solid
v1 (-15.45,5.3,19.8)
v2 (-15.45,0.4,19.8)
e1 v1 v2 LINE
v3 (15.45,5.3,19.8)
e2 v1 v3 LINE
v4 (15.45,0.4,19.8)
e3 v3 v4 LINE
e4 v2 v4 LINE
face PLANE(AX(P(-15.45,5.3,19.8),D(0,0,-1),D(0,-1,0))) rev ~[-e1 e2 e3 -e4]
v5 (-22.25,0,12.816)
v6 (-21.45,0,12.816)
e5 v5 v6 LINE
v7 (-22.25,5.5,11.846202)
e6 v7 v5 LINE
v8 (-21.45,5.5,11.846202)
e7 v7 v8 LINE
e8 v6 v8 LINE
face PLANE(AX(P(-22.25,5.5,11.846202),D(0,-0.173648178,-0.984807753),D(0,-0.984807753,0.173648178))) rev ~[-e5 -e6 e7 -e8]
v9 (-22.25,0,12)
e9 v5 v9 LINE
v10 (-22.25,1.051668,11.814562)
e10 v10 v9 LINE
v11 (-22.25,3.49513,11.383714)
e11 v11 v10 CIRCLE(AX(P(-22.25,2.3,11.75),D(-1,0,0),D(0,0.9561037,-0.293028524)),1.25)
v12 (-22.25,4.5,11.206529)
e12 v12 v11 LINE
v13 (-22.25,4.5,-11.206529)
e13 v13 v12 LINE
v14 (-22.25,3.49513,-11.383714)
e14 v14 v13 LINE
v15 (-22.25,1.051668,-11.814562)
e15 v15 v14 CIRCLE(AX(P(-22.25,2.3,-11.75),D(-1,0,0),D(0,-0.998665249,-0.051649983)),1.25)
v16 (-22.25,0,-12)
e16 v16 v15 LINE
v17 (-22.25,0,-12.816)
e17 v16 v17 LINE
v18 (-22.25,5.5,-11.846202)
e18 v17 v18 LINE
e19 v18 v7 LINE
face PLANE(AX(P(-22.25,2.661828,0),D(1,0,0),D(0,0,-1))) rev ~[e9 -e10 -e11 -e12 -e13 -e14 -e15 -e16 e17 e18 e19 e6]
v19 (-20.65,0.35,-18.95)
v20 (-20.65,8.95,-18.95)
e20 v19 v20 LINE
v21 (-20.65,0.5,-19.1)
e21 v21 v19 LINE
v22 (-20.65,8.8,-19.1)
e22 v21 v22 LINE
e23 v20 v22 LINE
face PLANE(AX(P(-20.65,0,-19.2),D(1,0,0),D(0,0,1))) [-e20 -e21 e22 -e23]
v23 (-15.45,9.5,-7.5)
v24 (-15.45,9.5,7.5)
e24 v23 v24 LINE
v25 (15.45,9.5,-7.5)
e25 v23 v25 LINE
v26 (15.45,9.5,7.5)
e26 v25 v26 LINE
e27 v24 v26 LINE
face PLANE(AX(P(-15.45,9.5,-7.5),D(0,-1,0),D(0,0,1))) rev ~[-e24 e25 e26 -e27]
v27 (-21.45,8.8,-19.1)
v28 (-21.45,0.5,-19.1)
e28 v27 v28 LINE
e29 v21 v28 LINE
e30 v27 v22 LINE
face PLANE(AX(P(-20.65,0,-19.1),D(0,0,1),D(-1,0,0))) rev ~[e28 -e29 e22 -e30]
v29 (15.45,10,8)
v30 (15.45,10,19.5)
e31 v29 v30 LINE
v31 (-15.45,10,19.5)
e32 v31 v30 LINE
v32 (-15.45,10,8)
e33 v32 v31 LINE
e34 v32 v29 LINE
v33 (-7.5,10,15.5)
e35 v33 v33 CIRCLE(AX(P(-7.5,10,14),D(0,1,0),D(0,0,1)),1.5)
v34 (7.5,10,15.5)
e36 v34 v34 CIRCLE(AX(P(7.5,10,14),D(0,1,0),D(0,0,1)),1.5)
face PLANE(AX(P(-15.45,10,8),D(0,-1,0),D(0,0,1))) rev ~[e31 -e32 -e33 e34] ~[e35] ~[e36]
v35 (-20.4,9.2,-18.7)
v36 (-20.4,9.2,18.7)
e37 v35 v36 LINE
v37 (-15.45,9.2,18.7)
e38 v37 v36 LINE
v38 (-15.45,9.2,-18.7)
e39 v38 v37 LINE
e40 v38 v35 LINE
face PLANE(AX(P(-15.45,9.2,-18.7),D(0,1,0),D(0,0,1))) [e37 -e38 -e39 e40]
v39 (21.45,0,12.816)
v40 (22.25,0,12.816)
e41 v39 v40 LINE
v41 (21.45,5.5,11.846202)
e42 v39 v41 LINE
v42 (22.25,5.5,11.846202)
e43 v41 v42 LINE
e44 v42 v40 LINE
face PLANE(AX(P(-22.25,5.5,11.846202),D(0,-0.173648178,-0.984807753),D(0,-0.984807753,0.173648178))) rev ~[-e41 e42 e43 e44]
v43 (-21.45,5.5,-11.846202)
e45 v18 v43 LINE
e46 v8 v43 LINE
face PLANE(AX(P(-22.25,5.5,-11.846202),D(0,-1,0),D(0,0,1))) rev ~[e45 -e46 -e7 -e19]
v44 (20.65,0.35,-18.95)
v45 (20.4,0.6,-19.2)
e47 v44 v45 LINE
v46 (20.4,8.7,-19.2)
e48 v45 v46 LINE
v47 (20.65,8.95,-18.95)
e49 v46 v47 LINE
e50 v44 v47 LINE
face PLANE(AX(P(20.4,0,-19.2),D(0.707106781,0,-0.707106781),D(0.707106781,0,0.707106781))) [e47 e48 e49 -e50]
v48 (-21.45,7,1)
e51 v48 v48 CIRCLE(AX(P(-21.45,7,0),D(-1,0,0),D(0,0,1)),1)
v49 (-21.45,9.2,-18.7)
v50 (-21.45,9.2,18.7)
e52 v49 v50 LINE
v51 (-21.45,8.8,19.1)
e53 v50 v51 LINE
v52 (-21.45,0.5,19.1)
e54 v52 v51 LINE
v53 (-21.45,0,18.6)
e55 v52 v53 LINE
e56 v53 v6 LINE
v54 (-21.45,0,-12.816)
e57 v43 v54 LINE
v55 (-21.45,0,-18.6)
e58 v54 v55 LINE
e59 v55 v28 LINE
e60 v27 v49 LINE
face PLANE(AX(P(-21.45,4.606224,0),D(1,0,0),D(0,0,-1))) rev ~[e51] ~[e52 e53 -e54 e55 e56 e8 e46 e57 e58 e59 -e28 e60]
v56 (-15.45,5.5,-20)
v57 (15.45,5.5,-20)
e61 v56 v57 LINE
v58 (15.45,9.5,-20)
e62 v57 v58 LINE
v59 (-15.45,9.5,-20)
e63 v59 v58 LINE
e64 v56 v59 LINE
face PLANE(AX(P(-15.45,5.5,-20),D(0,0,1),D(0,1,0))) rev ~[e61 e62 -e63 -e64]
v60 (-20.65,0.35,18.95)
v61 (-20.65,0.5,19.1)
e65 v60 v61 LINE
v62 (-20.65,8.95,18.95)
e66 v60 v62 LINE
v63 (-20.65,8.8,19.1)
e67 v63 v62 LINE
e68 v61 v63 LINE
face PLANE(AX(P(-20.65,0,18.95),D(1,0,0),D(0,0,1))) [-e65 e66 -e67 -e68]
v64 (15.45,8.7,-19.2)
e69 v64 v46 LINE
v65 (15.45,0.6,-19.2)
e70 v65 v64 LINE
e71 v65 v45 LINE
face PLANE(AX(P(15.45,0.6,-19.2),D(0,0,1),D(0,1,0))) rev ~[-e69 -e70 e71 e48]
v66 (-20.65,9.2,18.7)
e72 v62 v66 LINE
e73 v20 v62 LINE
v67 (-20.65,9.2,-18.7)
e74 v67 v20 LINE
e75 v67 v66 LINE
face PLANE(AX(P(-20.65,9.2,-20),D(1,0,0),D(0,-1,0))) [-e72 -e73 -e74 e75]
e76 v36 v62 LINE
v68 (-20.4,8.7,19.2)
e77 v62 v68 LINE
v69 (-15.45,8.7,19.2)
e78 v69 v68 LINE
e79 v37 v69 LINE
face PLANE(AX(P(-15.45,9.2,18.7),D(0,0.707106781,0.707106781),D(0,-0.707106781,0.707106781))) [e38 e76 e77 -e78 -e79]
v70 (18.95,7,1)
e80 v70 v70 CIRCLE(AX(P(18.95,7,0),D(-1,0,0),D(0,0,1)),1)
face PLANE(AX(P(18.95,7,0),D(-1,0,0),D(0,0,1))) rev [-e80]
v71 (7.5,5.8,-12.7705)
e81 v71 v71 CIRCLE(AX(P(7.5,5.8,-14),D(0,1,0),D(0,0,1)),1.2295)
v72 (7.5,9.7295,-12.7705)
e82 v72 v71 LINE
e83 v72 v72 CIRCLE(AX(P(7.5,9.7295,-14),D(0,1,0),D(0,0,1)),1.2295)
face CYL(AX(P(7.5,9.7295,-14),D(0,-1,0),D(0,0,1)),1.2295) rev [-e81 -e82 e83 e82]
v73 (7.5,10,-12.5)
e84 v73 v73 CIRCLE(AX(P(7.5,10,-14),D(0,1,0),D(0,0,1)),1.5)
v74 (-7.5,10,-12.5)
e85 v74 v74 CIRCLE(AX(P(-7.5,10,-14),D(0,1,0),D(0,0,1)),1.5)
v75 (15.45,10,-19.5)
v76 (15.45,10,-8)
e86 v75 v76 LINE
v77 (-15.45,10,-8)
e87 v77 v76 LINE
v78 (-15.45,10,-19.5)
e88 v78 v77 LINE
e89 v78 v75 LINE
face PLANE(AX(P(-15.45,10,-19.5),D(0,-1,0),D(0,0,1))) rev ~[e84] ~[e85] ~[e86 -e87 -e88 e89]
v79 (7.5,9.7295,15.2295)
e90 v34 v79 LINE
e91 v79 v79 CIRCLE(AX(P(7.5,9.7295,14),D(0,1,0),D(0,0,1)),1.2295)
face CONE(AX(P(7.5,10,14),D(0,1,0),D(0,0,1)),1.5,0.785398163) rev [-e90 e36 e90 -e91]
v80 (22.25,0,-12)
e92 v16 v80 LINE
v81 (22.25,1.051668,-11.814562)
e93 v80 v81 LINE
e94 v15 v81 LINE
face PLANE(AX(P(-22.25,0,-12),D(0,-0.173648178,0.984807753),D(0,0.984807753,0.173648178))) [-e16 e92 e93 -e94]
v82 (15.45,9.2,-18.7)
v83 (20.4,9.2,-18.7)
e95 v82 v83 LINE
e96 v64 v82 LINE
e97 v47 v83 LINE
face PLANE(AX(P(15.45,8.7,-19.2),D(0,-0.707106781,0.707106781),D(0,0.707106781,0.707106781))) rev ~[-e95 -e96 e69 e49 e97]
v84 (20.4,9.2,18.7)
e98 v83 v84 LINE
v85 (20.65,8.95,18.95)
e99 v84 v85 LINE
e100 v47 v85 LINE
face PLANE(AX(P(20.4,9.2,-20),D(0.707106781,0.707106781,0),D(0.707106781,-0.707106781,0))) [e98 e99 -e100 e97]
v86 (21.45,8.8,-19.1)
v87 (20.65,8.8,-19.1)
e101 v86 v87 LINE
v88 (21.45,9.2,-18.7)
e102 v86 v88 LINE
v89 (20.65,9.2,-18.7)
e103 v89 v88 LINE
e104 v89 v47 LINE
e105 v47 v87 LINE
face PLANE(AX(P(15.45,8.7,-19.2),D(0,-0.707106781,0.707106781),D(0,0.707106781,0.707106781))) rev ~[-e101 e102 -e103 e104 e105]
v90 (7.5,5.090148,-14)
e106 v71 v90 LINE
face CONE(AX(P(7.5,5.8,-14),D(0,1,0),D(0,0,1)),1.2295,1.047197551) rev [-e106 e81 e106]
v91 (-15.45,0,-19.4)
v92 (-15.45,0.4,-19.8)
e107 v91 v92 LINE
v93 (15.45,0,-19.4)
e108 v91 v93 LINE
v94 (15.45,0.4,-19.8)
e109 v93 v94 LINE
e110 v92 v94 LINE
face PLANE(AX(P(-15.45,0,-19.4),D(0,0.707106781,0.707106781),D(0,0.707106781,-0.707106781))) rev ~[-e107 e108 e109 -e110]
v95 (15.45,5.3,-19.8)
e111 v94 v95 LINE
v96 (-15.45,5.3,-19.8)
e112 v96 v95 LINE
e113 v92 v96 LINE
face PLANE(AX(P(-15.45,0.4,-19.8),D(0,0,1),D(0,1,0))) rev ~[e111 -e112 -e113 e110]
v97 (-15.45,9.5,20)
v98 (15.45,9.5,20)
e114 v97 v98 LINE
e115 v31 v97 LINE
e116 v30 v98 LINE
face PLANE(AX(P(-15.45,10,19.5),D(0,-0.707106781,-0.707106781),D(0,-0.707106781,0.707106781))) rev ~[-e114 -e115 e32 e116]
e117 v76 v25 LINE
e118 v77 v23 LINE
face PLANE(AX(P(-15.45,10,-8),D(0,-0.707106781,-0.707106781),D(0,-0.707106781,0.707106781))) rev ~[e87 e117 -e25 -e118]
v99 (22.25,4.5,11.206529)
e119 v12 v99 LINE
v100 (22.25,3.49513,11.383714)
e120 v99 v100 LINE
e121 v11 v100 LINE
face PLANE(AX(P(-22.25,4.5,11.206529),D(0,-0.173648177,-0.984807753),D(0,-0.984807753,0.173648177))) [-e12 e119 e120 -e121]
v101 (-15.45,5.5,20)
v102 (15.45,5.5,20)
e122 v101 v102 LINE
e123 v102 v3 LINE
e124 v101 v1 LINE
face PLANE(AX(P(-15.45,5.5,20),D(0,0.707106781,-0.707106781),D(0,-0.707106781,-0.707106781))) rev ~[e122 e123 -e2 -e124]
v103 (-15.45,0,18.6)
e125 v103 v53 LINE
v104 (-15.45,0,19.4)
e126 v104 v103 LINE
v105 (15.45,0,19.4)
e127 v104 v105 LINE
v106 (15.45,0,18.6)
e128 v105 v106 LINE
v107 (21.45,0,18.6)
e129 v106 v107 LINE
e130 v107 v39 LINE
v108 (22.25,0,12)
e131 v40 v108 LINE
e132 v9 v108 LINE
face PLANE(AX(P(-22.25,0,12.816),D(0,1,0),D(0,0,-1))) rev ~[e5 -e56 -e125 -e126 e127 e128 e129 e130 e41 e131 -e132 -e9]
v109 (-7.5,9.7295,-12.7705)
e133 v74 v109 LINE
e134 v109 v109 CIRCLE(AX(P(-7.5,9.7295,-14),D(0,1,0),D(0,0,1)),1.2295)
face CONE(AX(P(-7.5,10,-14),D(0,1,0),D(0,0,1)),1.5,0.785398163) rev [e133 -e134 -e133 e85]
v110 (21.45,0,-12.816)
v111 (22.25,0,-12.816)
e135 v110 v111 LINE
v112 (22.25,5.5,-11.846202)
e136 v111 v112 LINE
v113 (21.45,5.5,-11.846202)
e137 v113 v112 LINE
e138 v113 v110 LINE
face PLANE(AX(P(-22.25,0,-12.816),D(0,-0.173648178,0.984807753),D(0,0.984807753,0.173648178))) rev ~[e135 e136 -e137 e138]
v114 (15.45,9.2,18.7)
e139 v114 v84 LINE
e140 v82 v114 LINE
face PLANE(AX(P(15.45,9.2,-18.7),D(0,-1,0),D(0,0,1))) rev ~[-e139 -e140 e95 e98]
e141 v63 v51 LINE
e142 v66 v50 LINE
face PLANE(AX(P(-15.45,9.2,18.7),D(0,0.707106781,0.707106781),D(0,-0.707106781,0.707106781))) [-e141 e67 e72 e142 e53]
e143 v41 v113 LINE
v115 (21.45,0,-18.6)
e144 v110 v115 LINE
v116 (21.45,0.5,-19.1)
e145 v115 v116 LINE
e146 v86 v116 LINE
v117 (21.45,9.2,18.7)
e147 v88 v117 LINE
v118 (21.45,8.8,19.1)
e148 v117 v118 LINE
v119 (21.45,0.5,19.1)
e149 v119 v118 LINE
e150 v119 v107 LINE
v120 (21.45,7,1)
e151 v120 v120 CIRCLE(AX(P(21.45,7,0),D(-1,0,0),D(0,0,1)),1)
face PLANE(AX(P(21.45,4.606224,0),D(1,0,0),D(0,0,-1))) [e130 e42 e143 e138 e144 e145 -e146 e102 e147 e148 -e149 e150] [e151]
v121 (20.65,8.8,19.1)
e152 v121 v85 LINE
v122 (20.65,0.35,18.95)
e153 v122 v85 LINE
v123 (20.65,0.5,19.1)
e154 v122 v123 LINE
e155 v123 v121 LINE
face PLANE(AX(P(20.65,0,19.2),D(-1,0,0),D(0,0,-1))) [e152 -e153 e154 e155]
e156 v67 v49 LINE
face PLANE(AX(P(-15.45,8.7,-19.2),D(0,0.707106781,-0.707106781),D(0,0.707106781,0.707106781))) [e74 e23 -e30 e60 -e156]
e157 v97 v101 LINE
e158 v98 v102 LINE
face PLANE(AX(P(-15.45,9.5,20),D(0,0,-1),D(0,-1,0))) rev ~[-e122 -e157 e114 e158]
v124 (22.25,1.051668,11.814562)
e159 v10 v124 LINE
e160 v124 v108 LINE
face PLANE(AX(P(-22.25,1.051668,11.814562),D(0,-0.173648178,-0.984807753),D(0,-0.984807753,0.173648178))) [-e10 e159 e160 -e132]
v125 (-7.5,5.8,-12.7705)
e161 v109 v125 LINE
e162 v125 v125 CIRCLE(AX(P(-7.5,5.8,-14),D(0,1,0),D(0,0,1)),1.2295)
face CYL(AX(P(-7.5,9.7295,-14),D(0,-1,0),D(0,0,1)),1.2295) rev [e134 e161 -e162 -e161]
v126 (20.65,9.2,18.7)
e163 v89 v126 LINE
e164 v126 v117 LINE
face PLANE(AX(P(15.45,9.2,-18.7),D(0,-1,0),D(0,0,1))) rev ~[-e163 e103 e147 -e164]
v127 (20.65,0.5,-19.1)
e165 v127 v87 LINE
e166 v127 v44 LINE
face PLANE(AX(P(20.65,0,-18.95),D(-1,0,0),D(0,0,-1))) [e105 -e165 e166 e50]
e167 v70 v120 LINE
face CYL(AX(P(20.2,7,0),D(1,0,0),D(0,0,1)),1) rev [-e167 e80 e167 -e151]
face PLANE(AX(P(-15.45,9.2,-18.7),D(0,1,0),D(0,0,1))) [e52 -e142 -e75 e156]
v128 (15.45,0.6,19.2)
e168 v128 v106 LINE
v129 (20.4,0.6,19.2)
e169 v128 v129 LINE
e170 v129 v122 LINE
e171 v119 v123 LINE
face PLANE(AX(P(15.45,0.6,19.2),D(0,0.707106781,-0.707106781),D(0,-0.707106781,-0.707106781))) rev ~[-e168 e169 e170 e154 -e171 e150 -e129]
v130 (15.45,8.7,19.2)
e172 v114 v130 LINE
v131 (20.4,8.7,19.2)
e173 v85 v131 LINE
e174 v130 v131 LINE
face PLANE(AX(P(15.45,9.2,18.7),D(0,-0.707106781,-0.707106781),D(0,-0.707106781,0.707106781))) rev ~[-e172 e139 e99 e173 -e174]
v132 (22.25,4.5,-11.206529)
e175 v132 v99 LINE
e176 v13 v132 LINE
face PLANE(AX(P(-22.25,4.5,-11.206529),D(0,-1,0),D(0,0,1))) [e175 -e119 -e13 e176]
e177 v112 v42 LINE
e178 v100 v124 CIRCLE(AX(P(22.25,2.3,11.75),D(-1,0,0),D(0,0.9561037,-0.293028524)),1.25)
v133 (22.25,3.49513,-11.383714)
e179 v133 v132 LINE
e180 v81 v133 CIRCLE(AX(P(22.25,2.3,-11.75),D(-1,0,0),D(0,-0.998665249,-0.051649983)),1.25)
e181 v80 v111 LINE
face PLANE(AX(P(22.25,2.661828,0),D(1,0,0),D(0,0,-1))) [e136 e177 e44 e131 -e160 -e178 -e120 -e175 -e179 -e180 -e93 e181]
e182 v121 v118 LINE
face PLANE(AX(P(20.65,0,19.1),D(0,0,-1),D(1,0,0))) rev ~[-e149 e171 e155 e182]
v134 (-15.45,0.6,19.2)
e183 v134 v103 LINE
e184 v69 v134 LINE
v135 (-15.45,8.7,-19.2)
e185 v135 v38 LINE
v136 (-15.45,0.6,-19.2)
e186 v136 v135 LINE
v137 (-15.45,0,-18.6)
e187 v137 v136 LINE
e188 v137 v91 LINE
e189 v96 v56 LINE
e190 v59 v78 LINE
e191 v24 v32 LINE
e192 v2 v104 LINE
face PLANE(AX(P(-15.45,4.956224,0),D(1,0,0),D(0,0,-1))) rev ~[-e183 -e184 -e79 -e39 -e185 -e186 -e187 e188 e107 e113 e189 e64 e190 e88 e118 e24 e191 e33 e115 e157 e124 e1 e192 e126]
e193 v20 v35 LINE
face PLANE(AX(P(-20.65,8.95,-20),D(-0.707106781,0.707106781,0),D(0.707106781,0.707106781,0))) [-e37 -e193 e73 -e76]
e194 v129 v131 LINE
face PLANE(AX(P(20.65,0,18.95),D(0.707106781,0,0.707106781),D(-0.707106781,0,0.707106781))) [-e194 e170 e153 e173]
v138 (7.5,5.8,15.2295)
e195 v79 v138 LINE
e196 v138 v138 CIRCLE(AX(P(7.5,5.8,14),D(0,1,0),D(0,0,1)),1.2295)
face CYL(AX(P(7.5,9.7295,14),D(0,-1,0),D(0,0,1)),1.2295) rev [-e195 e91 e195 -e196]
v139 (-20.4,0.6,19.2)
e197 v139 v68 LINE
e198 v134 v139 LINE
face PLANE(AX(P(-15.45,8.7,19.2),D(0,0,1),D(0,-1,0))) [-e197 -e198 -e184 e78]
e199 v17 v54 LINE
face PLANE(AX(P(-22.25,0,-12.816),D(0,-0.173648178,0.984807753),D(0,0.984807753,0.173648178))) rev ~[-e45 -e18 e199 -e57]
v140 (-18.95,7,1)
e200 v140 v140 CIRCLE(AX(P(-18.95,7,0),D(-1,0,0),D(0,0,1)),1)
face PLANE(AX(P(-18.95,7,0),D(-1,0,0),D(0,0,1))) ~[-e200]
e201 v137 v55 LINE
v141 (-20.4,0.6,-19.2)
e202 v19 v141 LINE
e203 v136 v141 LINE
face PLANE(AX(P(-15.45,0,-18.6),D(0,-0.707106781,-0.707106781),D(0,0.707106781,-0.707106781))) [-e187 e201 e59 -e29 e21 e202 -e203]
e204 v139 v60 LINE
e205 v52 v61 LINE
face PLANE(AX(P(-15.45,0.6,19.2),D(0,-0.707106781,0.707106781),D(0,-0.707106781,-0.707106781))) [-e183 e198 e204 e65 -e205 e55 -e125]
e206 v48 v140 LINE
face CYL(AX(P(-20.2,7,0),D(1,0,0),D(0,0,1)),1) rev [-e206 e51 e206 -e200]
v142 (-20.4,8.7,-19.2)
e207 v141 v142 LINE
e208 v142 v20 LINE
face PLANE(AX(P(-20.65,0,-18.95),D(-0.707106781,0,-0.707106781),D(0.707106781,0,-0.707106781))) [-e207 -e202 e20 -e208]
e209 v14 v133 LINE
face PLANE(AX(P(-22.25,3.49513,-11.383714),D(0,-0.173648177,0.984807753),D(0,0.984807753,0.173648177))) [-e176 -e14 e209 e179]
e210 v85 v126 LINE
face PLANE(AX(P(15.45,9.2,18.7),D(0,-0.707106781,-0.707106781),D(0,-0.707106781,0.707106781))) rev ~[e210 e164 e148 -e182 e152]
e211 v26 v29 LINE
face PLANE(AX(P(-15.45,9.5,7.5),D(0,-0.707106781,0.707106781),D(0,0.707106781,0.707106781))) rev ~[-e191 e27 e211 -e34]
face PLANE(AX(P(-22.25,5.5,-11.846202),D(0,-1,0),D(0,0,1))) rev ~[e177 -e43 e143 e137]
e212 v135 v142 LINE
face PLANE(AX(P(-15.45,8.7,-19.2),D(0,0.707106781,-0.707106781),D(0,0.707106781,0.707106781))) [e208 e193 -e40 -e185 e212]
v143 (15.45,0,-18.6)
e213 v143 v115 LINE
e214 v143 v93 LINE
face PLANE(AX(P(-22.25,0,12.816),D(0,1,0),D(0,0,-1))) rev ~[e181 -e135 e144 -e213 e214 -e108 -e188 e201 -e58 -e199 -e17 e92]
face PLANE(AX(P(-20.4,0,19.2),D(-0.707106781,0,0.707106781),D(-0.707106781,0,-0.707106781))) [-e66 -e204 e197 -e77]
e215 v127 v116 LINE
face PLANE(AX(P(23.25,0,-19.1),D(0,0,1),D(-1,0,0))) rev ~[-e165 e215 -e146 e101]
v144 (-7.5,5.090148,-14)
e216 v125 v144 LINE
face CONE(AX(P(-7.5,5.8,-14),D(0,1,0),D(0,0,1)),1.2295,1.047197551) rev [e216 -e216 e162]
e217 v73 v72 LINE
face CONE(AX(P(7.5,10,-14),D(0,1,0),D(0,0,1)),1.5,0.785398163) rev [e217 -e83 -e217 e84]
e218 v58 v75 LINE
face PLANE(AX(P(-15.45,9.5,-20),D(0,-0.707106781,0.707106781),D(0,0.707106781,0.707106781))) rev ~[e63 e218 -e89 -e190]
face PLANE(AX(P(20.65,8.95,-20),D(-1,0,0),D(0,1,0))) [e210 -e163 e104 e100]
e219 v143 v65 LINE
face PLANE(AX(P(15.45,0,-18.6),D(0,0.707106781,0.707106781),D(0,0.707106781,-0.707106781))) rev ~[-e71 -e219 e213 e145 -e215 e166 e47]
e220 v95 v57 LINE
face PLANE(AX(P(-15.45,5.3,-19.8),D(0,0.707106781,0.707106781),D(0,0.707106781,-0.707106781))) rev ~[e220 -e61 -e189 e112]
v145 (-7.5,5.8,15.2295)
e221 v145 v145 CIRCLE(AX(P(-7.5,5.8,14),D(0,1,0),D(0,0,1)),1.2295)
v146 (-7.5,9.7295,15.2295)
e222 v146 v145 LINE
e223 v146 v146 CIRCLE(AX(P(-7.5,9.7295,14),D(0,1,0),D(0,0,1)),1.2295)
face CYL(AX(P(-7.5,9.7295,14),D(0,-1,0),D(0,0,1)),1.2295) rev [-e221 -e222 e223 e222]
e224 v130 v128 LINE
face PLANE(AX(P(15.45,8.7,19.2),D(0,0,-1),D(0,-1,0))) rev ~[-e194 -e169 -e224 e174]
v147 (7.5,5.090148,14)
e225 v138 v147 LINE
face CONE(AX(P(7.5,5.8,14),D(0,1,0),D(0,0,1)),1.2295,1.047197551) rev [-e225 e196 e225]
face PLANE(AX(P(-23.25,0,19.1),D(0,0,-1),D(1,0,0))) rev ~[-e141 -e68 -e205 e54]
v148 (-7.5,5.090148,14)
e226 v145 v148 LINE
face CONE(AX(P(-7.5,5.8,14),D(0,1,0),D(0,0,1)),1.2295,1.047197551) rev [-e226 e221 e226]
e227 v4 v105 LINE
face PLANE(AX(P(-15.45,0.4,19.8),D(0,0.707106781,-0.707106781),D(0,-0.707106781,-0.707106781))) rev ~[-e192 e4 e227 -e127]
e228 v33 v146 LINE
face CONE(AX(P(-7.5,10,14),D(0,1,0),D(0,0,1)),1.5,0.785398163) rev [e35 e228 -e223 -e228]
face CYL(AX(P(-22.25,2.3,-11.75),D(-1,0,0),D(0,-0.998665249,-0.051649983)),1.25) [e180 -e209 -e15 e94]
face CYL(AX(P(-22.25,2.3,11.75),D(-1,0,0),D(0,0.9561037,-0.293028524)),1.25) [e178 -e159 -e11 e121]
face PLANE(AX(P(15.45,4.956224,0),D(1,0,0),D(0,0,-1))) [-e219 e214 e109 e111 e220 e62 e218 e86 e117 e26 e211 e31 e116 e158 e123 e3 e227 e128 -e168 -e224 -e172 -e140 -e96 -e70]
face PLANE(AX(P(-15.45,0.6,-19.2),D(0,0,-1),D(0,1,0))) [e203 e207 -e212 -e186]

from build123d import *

# Parameters (mm, degrees)
RESSALTO_EXTRUS_O1_DEPTH      = 15.45
RESSALTO_EXTRUS_O1_DEPTH_BACK = 15.45
RESSALTO_EXTRUS_O2_DEPTH      = 6
RESSALTO_EXTRUS_O3_DEPTH      = 6
RESSALTO_EXTRUS_O4_DEPTH      = 22.25
RESSALTO_EXTRUS_O4_DEPTH_BACK = 22.25
CORTE_EXTRUS_O1_DEPTH         = 22.25
CORTE_EXTRUS_O1_DEPTH_BACK    = 22.25
ESBO_O10_W                    = 48.5
ESBO_O10_H                    = 44
CORTE_EXTRUS_O2_DEPTH         = 11
CORTE_EXTRUS_O3_DEPTH         = 20
CORTE_EXTRUS_O3_DEPTH_BACK    = 20
CORTE_EXTRUS_O4_DEPTH         = 20
CORTE_EXTRUS_O4_DEPTH_BACK    = 20
CORTE_EXTRUS_O5_DEPTH         = 10
CORTE_EXTRUS_O6_DEPTH         = 10
CORTE_EXTRUS_O7_DEPTH         = 10
CORTE_EXTRUS_O8_DEPTH         = 10
ESBO_O17_W                    = 2.5
ESBO_O17_H                    = 1
ESBO_O18_W                    = 2.5
ESBO_O18_H                    = 1


with BuildPart() as part:
    # Esboço1 → Ressalto-extrusão1 (new, two sides: drawn at the far end of the back side and taken through both)
    with BuildSketch(Plane(origin=(0, 0, 0), x_dir=(0, 0, -1), z_dir=(1, 0, 0)).offset(-RESSALTO_EXTRUS_O1_DEPTH_BACK)):
        Polygon((-20, 9.5), (-20, 5.5), (-19.8, 5.3), (-19.8, 0.4), (-19.4, 0), (19.4, 0), (19.8, 0.4), (19.8, 5.3), (20, 5.5), (20, 9.5), (19.5, 10), (8, 10), (7.5, 9.5), (-7.5, 9.5), (-8, 10), (-19.5, 10), align=None)
    extrude(amount=RESSALTO_EXTRUS_O1_DEPTH + RESSALTO_EXTRUS_O1_DEPTH_BACK)

    # Esboço2 → Ressalto-extrusão2 (add)
    with BuildSketch(Plane(origin=(-15.45, 0, 0), x_dir=(0, 0, -1), z_dir=(1, 0, 0))):
        Polygon((-19.2, 8.7), (-19.2, 0.6), (-18.6, 0), (18.6, 0), (19.2, 0.6), (19.2, 8.7), (18.7, 9.2), (-18.7, 9.2), align=None)
    extrude(amount=-RESSALTO_EXTRUS_O2_DEPTH)

    # Esboço3 → Ressalto-extrusão3 (add)
    with BuildSketch(Plane(origin=(15.45, 0, 0), x_dir=(0, 0, -1), z_dir=(1, 0, 0))):
        Polygon((-19.2, 8.7), (-19.2, 0.6), (-18.6, 0), (18.6, 0), (19.2, 0.6), (19.2, 8.7), (18.7, 9.2), (-18.7, 9.2), align=None)
    extrude(amount=RESSALTO_EXTRUS_O3_DEPTH)

    # Esboço4 → Ressalto-extrusão4 (add, two sides: drawn at the far end of the back side and taken through both)
    with BuildSketch(Plane(origin=(0, 0, 0), x_dir=(0, 0, -1), z_dir=(1, 0, 0)).offset(-RESSALTO_EXTRUS_O4_DEPTH_BACK)):
        Polygon((-12.816, 0), (12.816, 0), (11.846201606, 5.5), (-11.846201606, 5.5), align=None)
    extrude(amount=RESSALTO_EXTRUS_O4_DEPTH + RESSALTO_EXTRUS_O4_DEPTH_BACK)

    # Esboço5 → Corte-extrusão1 (cut, two sides: drawn at the far end of the back side and taken through both)
    with BuildSketch(Plane(origin=(0, 0, 0), x_dir=(0, 0, -1), z_dir=(1, 0, 0)).offset(-CORTE_EXTRUS_O1_DEPTH_BACK)):
        with BuildLine():
            Line((-12, 0), (12, 0))
            Line((12, 0), (11.814562479, 1.051668439))
            ThreePointArc((11.814562479, 1.051668439), (10.518990309, 2.082939778), (11.383714346, 3.495129625))
            Line((11.383714346, 3.495129625), (11.206528587, 4.5))
            Line((11.206528587, 4.5), (-11.206528587, 4.5))
            Line((-11.206528587, 4.5), (-11.383714346, 3.495129625))
            ThreePointArc((-11.383714346, 3.495129625), (-10.518990309, 2.082939778), (-11.814562479, 1.051668439))
            Line((-11.814562479, 1.051668439), (-12, 0))
        make_face()
    extrude(amount=CORTE_EXTRUS_O1_DEPTH + CORTE_EXTRUS_O1_DEPTH_BACK, mode=Mode.SUBTRACT)

    # Esboço6 → Corte-Revolução1 (revolve, cut)
    with BuildSketch(Plane.XY.offset(14), mode=Mode.PRIVATE) as corte_revolu_o1_sk:
        Polygon((7.5, 10), (9, 10), (8.7295, 9.7295), (8.7295, 5.8), (7.5, 5.090147844), align=None)
    revolve(corte_revolu_o1_sk.sketch.rotate(Axis((7.5, 5.090147844, 14), (0, 1, 0)), 270), axis=Axis((7.5, 5.090147844, 14), (0, 1, 0)), mode=Mode.SUBTRACT)

    # Esboço7 → Corte-Revolução2 (revolve, cut)
    with BuildSketch(Plane.XY.offset(-14), mode=Mode.PRIVATE) as corte_revolu_o2_sk:
        Polygon((-7.5, 10), (-6, 10), (-6.2705, 9.7295), (-6.2705, 5.8), (-7.5, 5.090147844), align=None)
    revolve(corte_revolu_o2_sk.sketch.rotate(Axis((-7.5, 5.090147844, -14), (0, 1, 0)), 270), axis=Axis((-7.5, 5.090147844, -14), (0, 1, 0)), mode=Mode.SUBTRACT)

    # Esboço8 → Corte-Revolução3 (revolve, cut)
    with BuildSketch(Plane.XY.offset(14), mode=Mode.PRIVATE) as corte_revolu_o3_sk:
        Polygon((-7.5, 10), (-6, 10), (-6.2705, 9.7295), (-6.2705, 5.8), (-7.5, 5.090147844), align=None)
    revolve(corte_revolu_o3_sk.sketch.rotate(Axis((-7.5, 5.090147844, 14), (0, 1, 0)), 270), axis=Axis((-7.5, 5.090147844, 14), (0, 1, 0)), mode=Mode.SUBTRACT)

    # Esboço9 → Corte-Revolução4 (revolve, cut)
    with BuildSketch(Plane.XY.offset(-14), mode=Mode.PRIVATE) as corte_revolu_o4_sk:
        Polygon((7.5, 10), (9, 10), (8.7295, 9.7295), (8.7295, 5.8), (7.5, 5.090147844), align=None)
    revolve(corte_revolu_o4_sk.sketch.rotate(Axis((7.5, 5.090147844, -14), (0, 1, 0)), 270), axis=Axis((7.5, 5.090147844, -14), (0, 1, 0)), mode=Mode.SUBTRACT)

    # Esboço10 → Corte-extrusão2 (cut)
    with BuildSketch(Plane(origin=(0, 0, 0), x_dir=(1, 0, 0), z_dir=(0, 1, 0))):
        Rectangle(ESBO_O10_W, ESBO_O10_H)
        Polygon((-23.25, 19.1), (-23.25, -19.1), (-20.65, -19.1), (-20.65, -21), (20.65, -21), (20.65, -19.1), (23.25, -19.1), (23.25, 19.1), (20.65, 19.1), (20.65, 21), (-20.65, 21), (-20.65, 19.1), align=None, mode=Mode.SUBTRACT)
    extrude(amount=CORTE_EXTRUS_O2_DEPTH, mode=Mode.SUBTRACT)

    # Esboço11 → Corte-extrusão3 (cut, two sides: drawn at the far end of the back side and taken through both)
    with BuildSketch(Plane.XY.offset(-CORTE_EXTRUS_O3_DEPTH_BACK)):
        Polygon((-20.65, 9.2), (-20.65, 8.95), (-20.4, 9.2), align=None)
    extrude(amount=CORTE_EXTRUS_O3_DEPTH + CORTE_EXTRUS_O3_DEPTH_BACK, mode=Mode.SUBTRACT)

    # Esboço12 → Corte-extrusão4 (cut, two sides: drawn at the far end of the back side and taken through both)
    with BuildSketch(Plane.XY.offset(-CORTE_EXTRUS_O4_DEPTH_BACK)):
        Polygon((20.4, 9.2), (20.65, 8.95), (20.65, 9.2), align=None)
    extrude(amount=CORTE_EXTRUS_O4_DEPTH + CORTE_EXTRUS_O4_DEPTH_BACK, mode=Mode.SUBTRACT)

    # Esboço13 → Corte-extrusão5 (cut)
    with BuildSketch(Plane(origin=(0, 0, 0), x_dir=(1, 0, 0), z_dir=(0, 1, 0))):
        Polygon((-20.65, 19.2), (-20.65, 18.95), (-20.4, 19.2), align=None)
    extrude(amount=CORTE_EXTRUS_O5_DEPTH, mode=Mode.SUBTRACT)

    # Esboço14 → Corte-extrusão6 (cut)
    with BuildSketch(Plane(origin=(0, 0, 0), x_dir=(1, 0, 0), z_dir=(0, 1, 0))):
        Polygon((-20.65, -19.2), (-20.4, -19.2), (-20.65, -18.95), align=None)
    extrude(amount=CORTE_EXTRUS_O6_DEPTH, mode=Mode.SUBTRACT)

    # Esboço15 → Corte-extrusão7 (cut)
    with BuildSketch(Plane(origin=(0, 0, 0), x_dir=(1, 0, 0), z_dir=(0, 1, 0))):
        Polygon((20.4, 19.2), (20.65, 18.95), (20.65, 19.2), align=None)
    extrude(amount=CORTE_EXTRUS_O7_DEPTH, mode=Mode.SUBTRACT)

    # Esboço16 → Corte-extrusão8 (cut)
    with BuildSketch(Plane(origin=(0, 0, 0), x_dir=(1, 0, 0), z_dir=(0, 1, 0))):
        Polygon((20.4, -19.2), (20.65, -19.2), (20.65, -18.95), align=None)
    extrude(amount=CORTE_EXTRUS_O8_DEPTH, mode=Mode.SUBTRACT)

    # Esboço17 → Corte-Revolução5 (revolve, cut)
    with BuildSketch(Plane.XY, mode=Mode.PRIVATE) as corte_revolu_o5_sk:
        with Locations((-20.2, 7.5)):
            Rectangle(ESBO_O17_W, ESBO_O17_H)
    revolve(corte_revolu_o5_sk.sketch.rotate(Axis((-18.95, 7, 0), (-1, 0, 0)), 270), axis=Axis((-18.95, 7, 0), (-1, 0, 0)), mode=Mode.SUBTRACT)

    # Esboço18 → Corte-Revolução6 (revolve, cut)
    with BuildSketch(Plane.XY, mode=Mode.PRIVATE) as corte_revolu_o6_sk:
        with Locations((20.2, 7.5)):
            Rectangle(ESBO_O18_W, ESBO_O18_H)
    revolve(corte_revolu_o6_sk.sketch.rotate(Axis((21.45, 7, 0), (-1, 0, 0)), 270), axis=Axis((21.45, 7, 0), (-1, 0, 0)), mode=Mode.SUBTRACT)


solid = part.part
